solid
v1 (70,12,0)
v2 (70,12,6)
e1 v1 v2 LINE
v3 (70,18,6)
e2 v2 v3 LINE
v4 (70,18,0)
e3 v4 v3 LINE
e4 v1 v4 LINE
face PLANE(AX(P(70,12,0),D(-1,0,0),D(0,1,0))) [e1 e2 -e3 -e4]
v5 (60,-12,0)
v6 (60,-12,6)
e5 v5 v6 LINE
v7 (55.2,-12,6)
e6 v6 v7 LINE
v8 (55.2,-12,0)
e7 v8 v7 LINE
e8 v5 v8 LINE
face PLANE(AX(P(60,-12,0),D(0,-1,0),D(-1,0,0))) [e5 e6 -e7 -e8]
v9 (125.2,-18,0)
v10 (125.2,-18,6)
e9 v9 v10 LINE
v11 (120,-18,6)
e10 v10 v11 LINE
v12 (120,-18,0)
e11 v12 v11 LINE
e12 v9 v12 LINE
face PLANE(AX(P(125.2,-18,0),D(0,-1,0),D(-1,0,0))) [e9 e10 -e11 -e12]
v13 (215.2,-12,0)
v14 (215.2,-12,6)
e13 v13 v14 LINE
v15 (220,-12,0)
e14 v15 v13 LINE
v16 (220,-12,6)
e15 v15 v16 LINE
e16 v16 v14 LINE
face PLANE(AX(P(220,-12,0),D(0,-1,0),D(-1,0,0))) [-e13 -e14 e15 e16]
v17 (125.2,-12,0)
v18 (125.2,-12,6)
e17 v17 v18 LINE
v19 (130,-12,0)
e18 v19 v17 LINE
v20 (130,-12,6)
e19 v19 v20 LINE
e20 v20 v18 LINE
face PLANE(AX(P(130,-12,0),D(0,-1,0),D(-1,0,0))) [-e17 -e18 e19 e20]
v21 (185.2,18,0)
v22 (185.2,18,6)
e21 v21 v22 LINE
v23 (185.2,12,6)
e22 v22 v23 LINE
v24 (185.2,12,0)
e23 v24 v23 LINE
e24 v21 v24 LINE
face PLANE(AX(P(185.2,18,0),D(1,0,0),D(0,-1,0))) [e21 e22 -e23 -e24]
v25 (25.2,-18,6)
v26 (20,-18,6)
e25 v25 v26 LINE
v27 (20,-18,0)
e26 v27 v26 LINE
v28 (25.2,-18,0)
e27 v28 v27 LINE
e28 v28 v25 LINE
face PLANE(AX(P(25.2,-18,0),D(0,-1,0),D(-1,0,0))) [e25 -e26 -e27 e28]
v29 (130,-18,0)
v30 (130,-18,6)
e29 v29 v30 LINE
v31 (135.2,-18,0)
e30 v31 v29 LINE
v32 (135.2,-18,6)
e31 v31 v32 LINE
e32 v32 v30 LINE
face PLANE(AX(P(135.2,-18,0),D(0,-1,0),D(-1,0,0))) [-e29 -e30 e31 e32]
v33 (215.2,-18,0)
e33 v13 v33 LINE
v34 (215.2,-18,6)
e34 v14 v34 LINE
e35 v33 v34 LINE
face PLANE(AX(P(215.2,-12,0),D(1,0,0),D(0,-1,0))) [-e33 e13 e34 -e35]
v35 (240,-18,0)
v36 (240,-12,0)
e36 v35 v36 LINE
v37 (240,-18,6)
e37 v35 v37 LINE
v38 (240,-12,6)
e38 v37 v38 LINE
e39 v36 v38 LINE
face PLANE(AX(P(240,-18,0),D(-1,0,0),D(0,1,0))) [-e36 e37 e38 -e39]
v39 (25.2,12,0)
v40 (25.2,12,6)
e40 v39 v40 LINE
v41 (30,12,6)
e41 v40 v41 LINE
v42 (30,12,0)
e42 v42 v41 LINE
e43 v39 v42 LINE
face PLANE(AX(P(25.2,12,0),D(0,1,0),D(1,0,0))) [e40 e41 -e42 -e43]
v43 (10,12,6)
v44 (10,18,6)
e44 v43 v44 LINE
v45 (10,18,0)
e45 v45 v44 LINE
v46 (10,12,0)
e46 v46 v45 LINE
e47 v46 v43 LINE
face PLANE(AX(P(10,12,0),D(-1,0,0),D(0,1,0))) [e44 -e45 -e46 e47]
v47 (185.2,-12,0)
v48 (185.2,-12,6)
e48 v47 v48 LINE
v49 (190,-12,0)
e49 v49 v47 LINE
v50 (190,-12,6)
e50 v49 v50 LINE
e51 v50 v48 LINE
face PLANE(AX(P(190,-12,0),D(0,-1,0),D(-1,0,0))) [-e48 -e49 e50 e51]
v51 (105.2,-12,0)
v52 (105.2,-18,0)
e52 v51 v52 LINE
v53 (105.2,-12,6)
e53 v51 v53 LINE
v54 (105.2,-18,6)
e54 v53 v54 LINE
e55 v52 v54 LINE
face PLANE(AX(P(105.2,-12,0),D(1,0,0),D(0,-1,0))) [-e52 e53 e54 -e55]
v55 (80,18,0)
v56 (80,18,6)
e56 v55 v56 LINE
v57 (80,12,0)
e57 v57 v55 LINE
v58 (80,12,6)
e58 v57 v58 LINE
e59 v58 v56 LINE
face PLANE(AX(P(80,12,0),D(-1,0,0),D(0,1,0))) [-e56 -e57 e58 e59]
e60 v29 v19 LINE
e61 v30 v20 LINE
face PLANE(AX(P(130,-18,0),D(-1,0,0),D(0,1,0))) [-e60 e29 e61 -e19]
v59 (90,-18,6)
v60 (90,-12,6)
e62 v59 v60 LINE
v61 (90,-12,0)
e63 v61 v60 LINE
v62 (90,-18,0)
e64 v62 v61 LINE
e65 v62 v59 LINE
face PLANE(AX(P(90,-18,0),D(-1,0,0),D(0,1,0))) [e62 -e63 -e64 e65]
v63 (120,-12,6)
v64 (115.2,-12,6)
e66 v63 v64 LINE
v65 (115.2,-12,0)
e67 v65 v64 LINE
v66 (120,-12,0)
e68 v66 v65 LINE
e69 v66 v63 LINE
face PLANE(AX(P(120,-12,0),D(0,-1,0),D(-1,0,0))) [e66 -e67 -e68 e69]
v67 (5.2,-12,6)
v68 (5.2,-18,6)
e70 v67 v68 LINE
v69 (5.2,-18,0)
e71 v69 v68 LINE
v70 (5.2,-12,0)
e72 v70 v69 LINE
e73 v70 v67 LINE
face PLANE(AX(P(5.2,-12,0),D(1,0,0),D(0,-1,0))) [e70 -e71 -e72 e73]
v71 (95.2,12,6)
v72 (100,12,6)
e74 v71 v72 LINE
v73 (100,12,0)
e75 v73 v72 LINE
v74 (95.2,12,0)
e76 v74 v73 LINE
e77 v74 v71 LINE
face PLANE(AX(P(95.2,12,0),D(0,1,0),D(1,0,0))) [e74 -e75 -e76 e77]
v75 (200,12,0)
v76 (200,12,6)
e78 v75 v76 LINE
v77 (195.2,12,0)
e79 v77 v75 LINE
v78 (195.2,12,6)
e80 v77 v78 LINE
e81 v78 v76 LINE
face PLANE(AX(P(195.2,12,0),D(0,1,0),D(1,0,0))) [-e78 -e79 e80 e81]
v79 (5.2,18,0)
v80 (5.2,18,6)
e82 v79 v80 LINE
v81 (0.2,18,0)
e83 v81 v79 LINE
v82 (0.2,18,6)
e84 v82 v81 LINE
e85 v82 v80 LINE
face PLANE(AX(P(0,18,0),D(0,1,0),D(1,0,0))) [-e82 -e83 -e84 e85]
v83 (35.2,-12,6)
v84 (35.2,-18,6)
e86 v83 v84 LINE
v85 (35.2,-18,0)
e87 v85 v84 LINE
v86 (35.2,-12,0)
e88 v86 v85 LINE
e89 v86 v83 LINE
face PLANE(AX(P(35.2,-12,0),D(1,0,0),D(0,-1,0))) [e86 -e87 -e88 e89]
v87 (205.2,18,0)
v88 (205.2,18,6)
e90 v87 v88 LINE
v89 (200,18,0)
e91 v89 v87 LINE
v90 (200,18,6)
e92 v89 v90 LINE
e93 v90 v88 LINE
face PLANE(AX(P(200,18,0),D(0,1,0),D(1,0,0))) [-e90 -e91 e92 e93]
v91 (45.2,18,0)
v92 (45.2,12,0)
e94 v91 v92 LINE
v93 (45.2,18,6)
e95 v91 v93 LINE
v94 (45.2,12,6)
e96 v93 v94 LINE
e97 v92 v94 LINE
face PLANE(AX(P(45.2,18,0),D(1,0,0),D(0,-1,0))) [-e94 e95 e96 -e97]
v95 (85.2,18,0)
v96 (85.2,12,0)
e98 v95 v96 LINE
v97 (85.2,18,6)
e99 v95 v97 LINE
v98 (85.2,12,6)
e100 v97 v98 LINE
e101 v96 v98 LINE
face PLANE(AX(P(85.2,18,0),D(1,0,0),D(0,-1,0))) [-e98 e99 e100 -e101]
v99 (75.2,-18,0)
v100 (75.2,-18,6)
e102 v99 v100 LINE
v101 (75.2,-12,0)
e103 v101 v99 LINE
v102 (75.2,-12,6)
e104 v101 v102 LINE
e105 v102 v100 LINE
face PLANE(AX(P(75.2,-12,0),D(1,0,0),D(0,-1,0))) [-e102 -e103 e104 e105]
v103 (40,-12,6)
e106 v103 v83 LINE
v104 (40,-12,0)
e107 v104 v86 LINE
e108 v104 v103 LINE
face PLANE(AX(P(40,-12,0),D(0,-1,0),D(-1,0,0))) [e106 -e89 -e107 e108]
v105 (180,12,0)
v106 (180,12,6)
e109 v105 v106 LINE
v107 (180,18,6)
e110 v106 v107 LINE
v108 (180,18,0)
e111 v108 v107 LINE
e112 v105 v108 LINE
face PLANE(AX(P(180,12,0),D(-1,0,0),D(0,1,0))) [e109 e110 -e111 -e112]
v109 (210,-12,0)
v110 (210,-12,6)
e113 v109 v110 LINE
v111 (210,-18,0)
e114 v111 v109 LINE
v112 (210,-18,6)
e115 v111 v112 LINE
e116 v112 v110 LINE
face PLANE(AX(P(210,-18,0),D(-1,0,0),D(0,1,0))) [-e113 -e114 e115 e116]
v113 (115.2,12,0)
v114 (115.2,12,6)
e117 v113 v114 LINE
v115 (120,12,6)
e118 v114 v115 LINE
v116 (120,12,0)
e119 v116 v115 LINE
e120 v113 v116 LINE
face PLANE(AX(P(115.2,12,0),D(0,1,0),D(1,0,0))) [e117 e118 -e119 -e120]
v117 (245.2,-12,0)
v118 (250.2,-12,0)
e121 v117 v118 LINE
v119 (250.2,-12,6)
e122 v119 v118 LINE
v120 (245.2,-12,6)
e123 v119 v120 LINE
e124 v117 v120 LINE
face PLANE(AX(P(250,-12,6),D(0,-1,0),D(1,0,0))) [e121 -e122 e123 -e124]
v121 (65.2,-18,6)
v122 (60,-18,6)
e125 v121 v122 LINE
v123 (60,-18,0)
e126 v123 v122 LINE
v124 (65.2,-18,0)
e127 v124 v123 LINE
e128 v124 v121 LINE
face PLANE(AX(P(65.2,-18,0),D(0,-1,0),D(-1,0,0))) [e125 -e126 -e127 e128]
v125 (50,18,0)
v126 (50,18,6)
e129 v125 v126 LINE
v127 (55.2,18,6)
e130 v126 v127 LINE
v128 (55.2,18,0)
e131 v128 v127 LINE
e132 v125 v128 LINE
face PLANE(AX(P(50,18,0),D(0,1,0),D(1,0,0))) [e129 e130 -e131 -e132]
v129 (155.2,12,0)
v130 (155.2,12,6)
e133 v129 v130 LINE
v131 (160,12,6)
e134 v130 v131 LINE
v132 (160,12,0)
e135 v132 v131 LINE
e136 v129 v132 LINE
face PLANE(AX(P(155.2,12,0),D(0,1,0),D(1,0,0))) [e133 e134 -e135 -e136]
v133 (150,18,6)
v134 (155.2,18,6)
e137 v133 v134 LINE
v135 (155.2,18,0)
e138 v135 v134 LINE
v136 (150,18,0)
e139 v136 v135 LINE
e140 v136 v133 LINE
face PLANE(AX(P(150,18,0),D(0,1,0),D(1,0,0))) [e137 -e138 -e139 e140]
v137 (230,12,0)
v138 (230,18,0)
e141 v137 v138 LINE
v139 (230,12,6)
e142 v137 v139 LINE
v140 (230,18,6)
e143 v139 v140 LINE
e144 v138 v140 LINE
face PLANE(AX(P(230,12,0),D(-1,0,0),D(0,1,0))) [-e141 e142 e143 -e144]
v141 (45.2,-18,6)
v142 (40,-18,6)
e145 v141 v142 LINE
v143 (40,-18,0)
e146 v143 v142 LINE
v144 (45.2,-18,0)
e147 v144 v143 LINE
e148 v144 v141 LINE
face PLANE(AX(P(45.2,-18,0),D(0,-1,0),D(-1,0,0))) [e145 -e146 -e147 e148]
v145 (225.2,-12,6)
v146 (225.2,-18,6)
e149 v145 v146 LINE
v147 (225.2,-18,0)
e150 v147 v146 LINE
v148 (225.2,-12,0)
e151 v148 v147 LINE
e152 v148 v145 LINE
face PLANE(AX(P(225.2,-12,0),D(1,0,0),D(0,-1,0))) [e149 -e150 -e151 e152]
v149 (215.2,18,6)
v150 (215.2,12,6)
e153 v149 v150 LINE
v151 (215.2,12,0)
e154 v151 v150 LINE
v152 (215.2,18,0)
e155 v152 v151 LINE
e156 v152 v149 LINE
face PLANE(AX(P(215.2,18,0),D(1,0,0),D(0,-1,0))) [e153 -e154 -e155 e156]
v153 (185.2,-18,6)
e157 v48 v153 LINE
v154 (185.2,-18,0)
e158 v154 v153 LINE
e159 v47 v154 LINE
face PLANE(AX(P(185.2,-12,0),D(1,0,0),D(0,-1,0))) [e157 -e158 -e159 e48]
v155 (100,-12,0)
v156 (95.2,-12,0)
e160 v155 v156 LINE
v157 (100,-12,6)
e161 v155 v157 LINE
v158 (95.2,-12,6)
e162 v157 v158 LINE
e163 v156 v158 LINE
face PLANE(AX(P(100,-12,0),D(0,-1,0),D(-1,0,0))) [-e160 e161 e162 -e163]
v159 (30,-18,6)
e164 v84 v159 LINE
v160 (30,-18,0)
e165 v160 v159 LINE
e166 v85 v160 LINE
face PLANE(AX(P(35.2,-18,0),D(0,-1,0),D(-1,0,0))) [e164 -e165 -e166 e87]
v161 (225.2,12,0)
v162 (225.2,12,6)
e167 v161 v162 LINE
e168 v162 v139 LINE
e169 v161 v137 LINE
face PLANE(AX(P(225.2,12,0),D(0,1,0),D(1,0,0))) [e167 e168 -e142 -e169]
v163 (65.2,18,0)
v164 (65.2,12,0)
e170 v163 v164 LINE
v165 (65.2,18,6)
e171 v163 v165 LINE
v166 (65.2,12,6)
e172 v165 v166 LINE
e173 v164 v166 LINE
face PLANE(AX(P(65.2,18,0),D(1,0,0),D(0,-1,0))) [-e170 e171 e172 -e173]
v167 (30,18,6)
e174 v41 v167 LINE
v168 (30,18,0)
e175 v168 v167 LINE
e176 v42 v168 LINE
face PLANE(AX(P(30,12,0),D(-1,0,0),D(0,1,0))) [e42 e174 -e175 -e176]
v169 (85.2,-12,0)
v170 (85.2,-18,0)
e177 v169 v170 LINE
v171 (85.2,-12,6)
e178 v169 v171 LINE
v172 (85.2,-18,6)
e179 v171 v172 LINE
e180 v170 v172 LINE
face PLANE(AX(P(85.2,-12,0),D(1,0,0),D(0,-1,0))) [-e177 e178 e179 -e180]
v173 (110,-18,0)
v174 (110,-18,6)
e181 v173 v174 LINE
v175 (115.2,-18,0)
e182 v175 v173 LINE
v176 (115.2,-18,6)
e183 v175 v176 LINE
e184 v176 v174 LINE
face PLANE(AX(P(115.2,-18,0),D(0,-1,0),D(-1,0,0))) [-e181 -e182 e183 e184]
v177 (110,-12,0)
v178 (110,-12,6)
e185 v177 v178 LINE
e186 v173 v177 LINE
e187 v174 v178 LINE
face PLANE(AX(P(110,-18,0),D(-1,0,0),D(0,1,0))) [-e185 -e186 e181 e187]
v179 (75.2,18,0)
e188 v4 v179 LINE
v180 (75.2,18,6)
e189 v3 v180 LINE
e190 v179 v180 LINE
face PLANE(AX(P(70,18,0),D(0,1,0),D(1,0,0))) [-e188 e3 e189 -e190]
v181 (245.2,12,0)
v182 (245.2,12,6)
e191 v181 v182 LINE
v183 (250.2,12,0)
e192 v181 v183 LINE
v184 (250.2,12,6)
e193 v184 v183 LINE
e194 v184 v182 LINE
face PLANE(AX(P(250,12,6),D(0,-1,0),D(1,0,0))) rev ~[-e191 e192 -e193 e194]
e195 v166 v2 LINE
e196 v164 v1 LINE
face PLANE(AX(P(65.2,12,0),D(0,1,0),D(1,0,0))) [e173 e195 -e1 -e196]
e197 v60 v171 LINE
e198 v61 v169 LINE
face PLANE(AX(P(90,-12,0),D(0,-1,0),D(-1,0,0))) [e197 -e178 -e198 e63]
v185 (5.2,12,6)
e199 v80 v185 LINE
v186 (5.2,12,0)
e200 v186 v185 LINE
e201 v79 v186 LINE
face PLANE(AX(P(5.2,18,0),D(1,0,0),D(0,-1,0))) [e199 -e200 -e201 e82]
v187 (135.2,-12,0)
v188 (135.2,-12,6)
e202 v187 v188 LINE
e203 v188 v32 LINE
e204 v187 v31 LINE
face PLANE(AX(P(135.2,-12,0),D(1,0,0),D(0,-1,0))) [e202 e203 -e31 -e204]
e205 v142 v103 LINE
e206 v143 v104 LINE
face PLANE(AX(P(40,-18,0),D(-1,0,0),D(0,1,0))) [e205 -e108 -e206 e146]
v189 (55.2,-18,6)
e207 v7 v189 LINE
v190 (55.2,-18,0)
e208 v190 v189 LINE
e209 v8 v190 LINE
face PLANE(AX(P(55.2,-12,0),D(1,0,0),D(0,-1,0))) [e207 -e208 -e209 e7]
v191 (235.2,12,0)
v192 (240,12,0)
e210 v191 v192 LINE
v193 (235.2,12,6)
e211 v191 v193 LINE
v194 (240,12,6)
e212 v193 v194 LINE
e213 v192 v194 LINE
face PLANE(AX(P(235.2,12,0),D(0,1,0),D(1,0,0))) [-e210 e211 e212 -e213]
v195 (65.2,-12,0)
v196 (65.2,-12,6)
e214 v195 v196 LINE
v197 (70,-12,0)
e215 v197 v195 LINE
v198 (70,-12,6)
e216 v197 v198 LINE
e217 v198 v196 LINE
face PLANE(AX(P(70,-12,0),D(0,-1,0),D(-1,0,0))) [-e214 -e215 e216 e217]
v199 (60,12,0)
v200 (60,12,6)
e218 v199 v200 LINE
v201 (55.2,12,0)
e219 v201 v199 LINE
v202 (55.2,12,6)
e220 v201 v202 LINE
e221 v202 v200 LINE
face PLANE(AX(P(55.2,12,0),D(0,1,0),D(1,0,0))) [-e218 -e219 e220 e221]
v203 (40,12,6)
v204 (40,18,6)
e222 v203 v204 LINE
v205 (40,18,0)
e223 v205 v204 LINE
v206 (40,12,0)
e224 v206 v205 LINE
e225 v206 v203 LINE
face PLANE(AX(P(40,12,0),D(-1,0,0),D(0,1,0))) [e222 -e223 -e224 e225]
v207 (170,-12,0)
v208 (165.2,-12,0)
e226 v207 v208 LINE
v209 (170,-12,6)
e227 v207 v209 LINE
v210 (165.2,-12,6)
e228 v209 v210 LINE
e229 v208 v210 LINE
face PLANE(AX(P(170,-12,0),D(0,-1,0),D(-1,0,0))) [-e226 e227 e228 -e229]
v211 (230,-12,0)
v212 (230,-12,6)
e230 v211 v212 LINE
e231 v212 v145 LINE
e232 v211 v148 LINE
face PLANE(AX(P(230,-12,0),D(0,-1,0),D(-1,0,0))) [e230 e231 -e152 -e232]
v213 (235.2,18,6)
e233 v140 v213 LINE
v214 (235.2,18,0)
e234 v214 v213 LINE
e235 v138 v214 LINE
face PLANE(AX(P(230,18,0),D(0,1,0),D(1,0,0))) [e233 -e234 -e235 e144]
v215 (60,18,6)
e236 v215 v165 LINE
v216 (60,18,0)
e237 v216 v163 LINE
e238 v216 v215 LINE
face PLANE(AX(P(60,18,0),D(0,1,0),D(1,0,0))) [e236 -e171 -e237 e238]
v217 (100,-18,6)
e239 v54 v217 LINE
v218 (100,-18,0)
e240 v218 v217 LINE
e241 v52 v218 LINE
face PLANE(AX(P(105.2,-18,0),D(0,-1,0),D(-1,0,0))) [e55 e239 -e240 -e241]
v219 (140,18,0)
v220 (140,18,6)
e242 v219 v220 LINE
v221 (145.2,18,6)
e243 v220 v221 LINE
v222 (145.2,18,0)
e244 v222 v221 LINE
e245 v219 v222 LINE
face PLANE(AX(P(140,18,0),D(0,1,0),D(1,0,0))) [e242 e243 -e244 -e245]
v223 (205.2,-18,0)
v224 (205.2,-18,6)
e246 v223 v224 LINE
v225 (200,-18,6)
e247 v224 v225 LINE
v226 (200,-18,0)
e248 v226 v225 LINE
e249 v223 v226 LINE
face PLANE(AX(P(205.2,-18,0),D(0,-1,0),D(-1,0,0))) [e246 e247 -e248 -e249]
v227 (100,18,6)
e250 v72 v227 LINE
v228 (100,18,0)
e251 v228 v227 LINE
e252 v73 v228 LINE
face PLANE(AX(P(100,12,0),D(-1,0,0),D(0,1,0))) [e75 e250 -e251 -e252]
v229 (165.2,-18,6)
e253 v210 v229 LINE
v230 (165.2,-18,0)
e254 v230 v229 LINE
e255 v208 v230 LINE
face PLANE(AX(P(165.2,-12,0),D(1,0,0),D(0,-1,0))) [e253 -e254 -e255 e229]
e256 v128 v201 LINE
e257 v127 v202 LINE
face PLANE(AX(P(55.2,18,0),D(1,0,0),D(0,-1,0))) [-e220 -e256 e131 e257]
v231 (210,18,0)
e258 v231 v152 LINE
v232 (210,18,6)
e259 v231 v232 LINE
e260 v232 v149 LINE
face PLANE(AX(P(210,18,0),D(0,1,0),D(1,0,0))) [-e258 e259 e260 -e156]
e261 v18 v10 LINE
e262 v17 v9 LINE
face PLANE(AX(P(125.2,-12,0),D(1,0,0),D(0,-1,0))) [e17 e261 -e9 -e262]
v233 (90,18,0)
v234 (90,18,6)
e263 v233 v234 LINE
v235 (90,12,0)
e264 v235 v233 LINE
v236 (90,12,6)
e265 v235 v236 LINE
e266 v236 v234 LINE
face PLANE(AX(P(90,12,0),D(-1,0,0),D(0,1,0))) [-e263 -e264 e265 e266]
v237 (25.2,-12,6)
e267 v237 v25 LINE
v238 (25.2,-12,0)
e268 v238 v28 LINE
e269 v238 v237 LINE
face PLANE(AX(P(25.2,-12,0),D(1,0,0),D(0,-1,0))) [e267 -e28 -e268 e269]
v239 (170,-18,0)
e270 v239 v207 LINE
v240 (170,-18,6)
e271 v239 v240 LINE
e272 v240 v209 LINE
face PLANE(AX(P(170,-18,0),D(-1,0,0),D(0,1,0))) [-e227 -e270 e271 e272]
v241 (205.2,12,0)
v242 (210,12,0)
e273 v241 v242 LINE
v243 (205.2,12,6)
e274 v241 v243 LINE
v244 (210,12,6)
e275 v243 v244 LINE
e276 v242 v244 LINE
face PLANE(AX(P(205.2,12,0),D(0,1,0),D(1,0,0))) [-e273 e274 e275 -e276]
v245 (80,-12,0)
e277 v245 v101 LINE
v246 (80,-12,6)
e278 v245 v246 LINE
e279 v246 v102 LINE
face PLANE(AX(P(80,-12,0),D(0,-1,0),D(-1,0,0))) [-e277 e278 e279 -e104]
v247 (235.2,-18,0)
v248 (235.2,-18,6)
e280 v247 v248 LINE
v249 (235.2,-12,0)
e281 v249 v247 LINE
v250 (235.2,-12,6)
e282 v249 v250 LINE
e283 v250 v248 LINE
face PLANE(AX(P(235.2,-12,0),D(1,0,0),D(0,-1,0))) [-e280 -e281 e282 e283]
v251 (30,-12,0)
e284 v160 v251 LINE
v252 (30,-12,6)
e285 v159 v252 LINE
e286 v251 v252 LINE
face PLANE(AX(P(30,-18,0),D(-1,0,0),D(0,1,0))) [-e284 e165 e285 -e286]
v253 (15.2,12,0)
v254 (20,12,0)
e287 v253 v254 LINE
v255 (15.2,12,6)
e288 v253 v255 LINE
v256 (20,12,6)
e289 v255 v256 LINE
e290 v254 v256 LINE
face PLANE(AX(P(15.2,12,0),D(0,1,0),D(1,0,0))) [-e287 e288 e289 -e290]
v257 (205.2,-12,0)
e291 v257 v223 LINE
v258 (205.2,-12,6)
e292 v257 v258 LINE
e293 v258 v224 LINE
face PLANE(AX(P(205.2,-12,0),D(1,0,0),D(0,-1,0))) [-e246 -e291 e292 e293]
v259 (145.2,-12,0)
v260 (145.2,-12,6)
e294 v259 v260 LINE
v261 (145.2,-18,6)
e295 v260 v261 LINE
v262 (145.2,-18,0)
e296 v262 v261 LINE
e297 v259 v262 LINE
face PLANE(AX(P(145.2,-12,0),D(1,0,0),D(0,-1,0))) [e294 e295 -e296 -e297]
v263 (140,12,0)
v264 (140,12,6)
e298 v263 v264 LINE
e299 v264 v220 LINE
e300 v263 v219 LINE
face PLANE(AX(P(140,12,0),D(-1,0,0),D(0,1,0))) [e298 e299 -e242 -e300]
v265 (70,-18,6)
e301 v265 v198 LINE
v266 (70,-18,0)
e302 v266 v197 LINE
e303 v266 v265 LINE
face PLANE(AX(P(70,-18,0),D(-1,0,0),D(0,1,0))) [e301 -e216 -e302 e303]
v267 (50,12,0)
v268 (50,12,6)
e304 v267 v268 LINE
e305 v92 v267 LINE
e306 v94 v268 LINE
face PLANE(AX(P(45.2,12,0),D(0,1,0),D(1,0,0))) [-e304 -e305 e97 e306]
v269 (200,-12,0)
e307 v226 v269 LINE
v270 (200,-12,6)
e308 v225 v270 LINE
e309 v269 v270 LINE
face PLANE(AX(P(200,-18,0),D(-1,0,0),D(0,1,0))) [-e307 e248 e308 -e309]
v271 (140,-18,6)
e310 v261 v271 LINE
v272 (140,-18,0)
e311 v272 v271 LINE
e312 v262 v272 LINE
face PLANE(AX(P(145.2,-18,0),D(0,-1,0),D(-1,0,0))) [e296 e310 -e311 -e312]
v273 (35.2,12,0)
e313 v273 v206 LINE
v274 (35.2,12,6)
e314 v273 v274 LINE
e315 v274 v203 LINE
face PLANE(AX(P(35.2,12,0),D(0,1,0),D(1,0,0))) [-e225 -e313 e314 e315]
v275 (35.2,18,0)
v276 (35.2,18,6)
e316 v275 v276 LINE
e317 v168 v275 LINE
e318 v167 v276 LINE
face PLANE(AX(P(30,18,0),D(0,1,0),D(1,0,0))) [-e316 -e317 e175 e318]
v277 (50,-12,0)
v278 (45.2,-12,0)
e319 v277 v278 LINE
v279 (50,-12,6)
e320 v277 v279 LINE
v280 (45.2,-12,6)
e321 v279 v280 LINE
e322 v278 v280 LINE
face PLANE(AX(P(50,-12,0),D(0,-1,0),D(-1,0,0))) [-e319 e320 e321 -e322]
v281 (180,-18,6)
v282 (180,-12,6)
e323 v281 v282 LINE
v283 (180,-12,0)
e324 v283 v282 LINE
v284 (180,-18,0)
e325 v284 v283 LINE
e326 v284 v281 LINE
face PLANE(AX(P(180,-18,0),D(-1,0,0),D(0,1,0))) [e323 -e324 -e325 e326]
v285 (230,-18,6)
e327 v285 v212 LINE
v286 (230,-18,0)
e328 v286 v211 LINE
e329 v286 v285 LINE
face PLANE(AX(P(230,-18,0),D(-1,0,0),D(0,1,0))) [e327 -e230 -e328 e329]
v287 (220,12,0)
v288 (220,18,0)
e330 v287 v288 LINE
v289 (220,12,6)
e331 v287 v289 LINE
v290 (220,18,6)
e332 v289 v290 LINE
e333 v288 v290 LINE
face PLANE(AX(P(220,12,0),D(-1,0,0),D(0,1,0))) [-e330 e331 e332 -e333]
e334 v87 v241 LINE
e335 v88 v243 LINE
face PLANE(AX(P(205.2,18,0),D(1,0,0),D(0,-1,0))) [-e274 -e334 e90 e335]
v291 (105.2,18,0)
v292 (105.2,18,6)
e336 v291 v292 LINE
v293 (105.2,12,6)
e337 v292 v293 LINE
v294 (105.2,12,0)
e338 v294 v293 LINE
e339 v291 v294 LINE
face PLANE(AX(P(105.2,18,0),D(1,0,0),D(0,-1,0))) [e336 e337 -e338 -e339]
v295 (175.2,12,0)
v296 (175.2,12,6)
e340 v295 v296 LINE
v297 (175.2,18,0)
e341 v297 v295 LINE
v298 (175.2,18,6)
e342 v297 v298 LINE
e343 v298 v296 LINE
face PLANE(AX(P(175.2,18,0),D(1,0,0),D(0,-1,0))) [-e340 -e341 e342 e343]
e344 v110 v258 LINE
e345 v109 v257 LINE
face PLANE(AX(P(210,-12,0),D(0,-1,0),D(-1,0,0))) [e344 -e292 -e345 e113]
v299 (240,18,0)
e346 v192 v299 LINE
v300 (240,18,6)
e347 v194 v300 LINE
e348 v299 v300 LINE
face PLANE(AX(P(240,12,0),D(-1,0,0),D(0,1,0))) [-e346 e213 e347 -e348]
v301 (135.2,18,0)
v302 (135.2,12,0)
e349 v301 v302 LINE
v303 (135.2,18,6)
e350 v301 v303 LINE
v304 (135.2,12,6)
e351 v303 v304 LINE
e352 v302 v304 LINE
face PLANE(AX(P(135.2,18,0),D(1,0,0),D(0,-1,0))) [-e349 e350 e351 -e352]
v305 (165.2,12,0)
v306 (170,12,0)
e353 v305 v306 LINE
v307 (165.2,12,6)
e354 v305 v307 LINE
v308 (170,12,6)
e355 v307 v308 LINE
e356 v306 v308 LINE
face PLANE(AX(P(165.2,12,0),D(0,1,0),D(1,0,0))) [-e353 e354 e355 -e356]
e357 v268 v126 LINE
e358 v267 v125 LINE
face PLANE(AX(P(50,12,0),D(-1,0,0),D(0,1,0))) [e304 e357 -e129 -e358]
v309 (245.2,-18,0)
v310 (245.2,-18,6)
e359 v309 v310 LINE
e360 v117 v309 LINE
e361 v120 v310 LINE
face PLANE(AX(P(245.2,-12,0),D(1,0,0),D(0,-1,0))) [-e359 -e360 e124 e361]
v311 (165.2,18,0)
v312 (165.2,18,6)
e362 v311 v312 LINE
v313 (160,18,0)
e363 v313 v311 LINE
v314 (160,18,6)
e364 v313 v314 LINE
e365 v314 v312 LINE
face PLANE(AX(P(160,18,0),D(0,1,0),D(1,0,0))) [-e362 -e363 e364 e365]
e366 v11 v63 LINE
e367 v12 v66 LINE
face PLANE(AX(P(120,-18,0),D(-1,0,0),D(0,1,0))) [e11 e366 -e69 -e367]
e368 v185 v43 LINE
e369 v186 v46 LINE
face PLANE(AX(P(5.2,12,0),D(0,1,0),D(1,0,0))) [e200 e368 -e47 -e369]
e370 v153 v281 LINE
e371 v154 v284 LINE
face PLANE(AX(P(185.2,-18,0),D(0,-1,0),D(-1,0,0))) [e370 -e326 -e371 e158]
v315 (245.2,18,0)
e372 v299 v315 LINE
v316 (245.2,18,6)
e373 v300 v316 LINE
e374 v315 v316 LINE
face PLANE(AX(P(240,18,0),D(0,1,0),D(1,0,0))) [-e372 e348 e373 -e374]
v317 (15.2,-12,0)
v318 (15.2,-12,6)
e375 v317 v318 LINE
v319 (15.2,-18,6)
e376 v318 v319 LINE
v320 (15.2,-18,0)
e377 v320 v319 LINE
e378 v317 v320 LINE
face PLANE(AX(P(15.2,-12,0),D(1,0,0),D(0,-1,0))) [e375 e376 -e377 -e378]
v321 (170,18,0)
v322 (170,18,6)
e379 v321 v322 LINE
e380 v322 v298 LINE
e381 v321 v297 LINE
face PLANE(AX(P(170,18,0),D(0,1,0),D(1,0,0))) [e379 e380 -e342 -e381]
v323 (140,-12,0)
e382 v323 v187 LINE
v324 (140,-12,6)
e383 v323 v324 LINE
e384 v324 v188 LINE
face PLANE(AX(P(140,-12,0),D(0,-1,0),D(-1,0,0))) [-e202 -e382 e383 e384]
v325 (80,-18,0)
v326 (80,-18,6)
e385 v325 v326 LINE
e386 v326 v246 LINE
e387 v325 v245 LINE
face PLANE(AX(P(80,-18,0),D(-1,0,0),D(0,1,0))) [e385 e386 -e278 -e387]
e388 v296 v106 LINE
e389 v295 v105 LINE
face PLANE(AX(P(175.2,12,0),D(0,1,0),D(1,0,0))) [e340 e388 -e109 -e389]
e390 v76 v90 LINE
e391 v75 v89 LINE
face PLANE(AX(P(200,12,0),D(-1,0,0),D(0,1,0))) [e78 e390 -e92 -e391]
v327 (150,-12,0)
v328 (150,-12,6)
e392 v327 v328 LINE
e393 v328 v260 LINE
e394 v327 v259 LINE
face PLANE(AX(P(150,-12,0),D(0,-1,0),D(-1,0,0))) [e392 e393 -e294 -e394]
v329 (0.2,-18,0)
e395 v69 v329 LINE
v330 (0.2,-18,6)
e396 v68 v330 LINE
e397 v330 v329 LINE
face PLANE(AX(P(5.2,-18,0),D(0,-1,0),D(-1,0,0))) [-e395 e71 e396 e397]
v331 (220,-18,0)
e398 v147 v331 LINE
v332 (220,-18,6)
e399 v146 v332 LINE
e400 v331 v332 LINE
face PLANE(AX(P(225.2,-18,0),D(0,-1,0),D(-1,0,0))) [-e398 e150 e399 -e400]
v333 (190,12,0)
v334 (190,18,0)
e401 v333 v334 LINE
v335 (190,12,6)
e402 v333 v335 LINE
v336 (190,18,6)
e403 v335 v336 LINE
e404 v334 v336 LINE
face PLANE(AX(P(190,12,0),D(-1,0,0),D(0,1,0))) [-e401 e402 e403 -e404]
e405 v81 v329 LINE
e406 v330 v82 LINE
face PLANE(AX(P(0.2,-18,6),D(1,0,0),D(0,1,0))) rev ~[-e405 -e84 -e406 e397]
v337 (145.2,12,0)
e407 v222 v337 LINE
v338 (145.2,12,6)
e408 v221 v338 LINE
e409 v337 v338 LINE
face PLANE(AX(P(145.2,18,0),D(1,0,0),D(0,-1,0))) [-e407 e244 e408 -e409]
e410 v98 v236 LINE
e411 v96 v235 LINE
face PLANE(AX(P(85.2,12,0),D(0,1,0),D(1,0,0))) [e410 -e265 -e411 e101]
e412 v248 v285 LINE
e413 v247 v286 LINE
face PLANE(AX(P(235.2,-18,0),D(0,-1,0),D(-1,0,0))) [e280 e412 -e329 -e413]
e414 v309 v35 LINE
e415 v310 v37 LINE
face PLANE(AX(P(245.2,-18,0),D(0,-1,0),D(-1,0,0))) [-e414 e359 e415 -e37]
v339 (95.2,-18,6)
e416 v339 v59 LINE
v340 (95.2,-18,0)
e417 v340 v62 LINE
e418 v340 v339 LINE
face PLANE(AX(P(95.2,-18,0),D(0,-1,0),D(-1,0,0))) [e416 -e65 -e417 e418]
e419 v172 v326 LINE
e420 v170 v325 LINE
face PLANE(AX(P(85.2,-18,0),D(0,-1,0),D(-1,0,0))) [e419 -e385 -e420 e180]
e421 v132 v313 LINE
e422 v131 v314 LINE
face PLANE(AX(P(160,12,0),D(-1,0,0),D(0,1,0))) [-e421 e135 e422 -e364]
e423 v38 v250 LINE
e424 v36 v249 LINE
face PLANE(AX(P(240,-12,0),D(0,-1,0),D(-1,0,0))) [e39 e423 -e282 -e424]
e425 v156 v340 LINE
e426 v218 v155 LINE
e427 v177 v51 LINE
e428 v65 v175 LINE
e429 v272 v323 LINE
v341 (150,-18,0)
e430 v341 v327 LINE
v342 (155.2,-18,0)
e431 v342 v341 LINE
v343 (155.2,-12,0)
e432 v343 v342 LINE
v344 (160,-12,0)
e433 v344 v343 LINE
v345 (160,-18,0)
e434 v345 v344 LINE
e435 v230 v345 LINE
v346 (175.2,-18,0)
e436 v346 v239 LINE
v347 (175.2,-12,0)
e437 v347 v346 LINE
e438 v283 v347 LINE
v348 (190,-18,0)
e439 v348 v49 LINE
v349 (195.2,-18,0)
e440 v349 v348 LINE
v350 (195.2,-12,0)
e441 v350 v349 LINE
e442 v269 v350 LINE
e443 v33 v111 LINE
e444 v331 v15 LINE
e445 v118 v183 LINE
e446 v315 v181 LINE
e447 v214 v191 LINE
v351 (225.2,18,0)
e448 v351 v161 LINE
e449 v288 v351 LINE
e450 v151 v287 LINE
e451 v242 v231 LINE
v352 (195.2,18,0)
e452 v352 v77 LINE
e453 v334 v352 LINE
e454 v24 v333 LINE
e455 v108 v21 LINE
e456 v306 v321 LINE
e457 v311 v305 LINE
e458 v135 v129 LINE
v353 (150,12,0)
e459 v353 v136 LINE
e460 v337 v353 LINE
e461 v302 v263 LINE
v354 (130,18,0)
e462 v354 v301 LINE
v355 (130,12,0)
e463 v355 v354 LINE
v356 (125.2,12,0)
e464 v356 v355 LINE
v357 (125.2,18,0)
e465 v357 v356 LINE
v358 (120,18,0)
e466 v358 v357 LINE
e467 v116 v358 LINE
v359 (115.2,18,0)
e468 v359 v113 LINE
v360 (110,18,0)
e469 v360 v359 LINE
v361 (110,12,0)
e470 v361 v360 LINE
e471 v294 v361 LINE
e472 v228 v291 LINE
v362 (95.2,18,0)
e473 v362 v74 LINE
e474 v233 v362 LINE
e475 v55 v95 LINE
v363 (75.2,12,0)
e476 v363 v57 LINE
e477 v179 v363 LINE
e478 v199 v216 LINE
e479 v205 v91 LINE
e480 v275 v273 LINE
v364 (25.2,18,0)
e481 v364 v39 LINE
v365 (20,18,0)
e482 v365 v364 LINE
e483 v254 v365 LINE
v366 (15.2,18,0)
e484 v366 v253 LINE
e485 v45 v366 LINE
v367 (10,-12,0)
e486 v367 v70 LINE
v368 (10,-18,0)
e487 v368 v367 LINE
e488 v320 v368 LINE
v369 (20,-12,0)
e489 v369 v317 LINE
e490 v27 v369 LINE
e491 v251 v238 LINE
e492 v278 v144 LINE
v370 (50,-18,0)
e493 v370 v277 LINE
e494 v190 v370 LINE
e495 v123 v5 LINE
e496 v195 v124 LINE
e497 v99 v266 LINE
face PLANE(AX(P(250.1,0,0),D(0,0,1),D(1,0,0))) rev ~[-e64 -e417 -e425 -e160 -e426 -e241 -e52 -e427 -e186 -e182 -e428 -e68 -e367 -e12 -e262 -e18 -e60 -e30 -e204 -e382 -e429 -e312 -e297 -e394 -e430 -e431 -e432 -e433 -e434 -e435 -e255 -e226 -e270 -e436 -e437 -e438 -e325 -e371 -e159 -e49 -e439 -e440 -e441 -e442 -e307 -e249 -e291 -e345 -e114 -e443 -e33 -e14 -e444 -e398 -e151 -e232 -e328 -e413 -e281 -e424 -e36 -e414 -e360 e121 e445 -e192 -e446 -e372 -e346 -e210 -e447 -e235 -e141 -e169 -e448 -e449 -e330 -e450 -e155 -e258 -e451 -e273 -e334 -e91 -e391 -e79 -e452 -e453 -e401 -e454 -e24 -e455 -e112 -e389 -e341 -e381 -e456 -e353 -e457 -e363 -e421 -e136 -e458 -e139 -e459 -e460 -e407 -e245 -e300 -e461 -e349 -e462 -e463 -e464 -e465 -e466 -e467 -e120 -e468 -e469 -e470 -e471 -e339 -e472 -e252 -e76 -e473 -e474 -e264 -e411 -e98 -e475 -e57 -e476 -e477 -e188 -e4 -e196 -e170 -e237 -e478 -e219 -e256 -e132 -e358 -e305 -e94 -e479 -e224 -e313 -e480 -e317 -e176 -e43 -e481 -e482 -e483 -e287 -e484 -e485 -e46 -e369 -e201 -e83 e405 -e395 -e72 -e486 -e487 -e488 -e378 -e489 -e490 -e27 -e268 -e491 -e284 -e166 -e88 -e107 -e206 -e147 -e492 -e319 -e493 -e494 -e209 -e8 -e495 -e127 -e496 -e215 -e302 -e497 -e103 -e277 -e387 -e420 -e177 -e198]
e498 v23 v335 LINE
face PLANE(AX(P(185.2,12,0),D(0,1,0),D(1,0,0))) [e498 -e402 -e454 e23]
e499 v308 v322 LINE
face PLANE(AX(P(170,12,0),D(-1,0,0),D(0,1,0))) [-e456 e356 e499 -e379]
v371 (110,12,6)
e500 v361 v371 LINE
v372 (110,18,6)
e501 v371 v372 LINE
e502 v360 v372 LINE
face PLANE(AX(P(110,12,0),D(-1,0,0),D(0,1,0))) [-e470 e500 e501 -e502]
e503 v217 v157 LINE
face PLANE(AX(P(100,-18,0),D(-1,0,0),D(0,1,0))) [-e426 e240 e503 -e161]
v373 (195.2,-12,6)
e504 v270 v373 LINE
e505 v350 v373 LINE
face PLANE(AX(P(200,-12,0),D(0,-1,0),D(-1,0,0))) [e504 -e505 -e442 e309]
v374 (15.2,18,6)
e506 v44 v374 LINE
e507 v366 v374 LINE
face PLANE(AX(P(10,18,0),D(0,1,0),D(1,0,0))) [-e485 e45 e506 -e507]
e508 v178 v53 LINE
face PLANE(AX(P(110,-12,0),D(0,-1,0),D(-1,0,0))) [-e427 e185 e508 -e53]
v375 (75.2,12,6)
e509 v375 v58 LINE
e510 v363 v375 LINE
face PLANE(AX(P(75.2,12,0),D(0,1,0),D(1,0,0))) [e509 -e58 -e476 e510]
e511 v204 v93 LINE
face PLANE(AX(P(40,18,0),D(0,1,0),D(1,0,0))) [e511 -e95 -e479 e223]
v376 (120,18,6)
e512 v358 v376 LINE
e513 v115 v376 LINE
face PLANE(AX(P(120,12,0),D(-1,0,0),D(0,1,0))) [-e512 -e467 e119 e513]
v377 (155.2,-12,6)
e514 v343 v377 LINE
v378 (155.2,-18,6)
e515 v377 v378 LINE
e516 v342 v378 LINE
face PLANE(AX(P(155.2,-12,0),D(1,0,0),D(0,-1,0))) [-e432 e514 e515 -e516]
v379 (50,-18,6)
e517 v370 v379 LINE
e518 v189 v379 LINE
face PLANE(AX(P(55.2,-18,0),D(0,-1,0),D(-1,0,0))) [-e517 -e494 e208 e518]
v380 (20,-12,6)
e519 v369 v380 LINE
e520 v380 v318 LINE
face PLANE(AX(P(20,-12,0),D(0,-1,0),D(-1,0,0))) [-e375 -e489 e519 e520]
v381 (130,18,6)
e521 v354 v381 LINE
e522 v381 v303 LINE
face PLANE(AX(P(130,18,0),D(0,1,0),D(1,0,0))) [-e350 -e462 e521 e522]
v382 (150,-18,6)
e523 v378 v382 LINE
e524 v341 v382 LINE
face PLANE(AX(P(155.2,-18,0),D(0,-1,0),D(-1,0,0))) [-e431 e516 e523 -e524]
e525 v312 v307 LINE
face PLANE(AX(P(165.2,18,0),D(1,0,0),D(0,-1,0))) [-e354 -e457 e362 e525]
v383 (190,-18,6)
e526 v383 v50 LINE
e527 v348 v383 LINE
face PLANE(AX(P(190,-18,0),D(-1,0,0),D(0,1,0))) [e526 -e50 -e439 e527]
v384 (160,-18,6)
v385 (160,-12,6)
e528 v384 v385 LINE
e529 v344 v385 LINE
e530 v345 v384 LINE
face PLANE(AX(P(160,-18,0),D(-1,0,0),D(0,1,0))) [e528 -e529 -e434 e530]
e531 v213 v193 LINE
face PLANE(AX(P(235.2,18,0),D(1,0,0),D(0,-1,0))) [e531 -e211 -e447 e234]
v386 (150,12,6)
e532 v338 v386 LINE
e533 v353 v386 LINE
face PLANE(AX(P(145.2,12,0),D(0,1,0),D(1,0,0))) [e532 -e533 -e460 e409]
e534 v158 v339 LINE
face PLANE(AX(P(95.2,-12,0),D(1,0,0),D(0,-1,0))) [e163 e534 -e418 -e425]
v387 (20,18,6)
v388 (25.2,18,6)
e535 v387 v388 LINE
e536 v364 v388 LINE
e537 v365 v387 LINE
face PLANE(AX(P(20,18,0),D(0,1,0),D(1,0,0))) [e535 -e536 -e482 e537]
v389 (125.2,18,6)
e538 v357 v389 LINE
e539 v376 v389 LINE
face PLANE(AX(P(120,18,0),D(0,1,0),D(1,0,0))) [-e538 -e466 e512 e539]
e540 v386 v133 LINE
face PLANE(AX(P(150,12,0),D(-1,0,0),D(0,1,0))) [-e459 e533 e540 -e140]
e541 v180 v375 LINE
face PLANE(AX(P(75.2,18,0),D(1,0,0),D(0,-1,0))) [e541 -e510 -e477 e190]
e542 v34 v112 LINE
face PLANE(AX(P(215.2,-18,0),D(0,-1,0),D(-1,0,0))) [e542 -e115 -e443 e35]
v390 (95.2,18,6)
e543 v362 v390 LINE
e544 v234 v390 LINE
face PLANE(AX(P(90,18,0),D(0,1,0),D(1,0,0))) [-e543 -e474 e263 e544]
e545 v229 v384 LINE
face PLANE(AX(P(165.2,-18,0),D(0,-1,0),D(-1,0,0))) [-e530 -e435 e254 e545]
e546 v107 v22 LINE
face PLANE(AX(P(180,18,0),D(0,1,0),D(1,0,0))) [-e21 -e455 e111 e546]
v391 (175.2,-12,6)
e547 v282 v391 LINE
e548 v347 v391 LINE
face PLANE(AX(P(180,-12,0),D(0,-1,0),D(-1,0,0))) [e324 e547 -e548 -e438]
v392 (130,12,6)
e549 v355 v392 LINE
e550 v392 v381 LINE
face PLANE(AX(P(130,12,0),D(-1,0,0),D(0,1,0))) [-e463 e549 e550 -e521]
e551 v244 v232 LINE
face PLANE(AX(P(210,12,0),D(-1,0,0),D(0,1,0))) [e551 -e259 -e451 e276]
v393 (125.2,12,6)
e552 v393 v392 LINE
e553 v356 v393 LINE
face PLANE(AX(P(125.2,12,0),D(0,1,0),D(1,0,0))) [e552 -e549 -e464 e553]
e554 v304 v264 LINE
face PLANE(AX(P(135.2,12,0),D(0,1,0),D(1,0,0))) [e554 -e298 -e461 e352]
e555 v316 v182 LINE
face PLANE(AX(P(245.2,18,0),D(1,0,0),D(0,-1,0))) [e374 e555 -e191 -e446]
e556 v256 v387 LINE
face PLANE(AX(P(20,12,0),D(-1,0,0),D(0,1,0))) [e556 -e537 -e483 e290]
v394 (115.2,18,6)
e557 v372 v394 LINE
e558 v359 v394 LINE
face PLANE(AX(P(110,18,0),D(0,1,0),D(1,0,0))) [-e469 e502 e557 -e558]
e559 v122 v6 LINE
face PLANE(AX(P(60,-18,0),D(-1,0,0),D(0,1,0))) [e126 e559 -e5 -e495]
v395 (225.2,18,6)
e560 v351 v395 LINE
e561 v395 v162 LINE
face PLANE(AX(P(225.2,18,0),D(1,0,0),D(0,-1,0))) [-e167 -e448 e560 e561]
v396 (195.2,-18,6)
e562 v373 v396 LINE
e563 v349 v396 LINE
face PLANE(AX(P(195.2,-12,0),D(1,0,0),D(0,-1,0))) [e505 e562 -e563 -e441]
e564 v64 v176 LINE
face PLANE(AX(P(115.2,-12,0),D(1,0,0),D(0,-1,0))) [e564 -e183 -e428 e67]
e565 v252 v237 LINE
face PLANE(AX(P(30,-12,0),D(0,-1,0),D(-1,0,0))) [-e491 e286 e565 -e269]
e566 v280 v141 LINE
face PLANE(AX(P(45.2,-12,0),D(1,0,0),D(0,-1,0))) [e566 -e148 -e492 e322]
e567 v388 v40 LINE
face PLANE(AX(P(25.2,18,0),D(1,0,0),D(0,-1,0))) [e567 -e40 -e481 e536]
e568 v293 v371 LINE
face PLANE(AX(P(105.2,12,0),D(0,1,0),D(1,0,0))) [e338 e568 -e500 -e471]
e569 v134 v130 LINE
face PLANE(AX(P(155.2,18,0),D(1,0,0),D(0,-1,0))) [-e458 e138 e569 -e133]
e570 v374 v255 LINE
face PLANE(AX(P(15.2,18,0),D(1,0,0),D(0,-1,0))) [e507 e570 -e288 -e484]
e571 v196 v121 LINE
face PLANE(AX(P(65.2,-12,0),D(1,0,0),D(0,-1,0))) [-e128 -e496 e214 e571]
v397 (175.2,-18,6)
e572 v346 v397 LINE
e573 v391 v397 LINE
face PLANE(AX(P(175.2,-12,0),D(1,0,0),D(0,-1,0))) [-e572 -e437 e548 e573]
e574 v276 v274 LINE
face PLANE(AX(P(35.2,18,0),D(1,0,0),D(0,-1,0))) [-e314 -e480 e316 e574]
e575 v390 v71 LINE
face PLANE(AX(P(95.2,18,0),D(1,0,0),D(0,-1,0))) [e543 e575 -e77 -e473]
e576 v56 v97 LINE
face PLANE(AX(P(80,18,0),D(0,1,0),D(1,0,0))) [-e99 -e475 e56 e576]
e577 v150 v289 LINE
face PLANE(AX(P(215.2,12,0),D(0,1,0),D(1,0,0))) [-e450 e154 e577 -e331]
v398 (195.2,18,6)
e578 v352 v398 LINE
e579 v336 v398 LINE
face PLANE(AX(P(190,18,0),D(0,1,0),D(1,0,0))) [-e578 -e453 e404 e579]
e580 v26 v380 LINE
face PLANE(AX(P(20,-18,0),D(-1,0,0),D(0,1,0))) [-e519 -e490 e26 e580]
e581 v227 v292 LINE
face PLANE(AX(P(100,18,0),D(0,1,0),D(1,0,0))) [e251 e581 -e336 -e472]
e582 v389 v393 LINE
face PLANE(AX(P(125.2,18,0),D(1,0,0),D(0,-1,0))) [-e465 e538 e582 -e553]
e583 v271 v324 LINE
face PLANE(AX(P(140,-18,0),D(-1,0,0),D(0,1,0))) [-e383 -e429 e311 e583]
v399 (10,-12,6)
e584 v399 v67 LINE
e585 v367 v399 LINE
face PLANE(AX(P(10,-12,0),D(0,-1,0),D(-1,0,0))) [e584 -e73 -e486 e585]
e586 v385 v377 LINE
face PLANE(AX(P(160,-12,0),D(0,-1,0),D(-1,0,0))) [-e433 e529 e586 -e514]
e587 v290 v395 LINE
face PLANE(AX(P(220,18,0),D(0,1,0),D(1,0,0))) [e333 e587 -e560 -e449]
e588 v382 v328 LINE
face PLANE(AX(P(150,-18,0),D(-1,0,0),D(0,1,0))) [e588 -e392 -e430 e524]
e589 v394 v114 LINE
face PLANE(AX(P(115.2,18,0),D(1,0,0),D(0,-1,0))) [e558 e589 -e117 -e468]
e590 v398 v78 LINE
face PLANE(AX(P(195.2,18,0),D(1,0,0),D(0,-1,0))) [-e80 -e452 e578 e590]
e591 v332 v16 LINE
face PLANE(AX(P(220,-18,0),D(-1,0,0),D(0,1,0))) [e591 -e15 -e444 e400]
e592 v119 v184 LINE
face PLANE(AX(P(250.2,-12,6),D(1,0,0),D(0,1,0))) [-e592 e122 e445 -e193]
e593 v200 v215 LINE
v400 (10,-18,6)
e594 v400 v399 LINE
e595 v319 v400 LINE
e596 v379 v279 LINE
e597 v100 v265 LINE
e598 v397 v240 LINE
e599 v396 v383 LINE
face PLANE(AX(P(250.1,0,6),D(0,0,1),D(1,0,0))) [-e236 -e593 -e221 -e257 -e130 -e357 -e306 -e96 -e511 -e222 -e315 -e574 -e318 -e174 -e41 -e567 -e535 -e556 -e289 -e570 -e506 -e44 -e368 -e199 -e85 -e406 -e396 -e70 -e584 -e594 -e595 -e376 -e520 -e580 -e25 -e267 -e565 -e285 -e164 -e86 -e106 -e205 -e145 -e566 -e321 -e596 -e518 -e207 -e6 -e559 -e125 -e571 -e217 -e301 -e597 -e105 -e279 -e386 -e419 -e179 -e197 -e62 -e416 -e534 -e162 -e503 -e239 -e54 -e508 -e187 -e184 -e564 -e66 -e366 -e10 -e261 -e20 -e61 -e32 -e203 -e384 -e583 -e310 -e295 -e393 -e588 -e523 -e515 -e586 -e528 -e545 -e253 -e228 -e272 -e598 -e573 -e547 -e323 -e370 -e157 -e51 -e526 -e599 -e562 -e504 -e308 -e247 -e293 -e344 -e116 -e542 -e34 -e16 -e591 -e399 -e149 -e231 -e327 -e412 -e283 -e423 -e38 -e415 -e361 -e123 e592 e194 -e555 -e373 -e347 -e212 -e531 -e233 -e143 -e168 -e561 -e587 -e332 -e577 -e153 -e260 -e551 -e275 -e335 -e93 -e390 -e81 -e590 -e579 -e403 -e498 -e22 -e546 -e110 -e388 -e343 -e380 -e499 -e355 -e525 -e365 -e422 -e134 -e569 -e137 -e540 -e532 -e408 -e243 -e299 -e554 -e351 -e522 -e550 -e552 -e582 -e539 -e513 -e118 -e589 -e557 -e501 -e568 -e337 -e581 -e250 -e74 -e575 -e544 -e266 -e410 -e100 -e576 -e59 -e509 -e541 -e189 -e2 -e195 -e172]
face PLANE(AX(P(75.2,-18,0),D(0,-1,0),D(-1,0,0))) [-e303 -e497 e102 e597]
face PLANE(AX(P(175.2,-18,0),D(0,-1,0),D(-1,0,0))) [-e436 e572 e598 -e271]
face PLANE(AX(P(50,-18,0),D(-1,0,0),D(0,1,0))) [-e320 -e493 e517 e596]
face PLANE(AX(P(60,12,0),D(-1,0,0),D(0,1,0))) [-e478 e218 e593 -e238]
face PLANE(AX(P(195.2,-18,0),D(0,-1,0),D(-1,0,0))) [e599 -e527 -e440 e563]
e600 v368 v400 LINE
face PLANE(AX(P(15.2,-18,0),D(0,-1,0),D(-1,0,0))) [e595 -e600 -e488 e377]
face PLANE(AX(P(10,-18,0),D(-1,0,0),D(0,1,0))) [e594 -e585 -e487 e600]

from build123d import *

# Parameters (mm, degrees)
BOSS_EXTRU_1_DEPTH      = 6
ESQUISSE2_W             = 0.2
ESQUISSE2_H             = 36
ENL_V_MAT_EXTRU_1_DEPTH = 10
ESQUISSE3_W             = 0.2
ESQUISSE3_H             = 24
BOSS_EXTRU_2_DEPTH      = 6


with BuildPart() as part:
    # Esquisse1 → Boss.-Extru.1 (new body)
    with BuildSketch(Plane.XY):
        Polygon((0, -18), (0, 18), (5.2, 18), (5.2, 12), (10, 12), (10, 18), (15.2, 18), (15.2, 12), (20, 12), (20, 18), (25.2, 18), (25.2, 12), (30, 12), (30, 18), (35.2, 18), (35.2, 12), (40, 12), (40, 18), (45.2, 18), (45.2, 12), (50, 12), (50, 18), (55.2, 18), (55.2, 12), (60, 12), (60, 18), (65.2, 18), (65.2, 12), (70, 12), (70, 18), (75.2, 18), (75.2, 12), (80, 12), (80, 18), (85.2, 18), (85.2, 12), (90, 12), (90, 18), (95.2, 18), (95.2, 12), (100, 12), (100, 18), (105.2, 18), (105.2, 12), (110, 12), (110, 18), (115.2, 18), (115.2, 12), (120, 12), (120, 18), (125.2, 18), (125.2, 12), (130, 12), (130, 18), (135.2, 18), (135.2, 12), (140, 12), (140, 18), (145.2, 18), (145.2, 12), (150, 12), (150, 18), (155.2, 18), (155.2, 12), (160, 12), (160, 18), (165.2, 18), (165.2, 12), (170, 12), (170, 18), (175.2, 18), (175.2, 12), (180, 12), (180, 18), (185.2, 18), (185.2, 12), (190, 12), (190, 18), (195.2, 18), (195.2, 12), (200, 12), (200, 18), (205.2, 18), (205.2, 12), (210, 12), (210, 18), (215.2, 18), (215.2, 12), (220, 12), (220, 18), (225.2, 18), (225.2, 12), (230, 12), (230, 18), (235.2, 18), (235.2, 12), (240, 12), (240, 18), (245.2, 18), (245.2, 12), (250, 12), (250, -12), (245.2, -12), (245.2, -18), (240, -18), (240, -12), (235.2, -12), (235.2, -18), (230, -18), (230, -12), (225.2, -12), (225.2, -18), (220, -18), (220, -12), (215.2, -12), (215.2, -18), (210, -18), (210, -12), (205.2, -12), (205.2, -18), (200, -18), (200, -12), (195.2, -12), (195.2, -18), (190, -18), (190, -12), (185.2, -12), (185.2, -18), (180, -18), (180, -12), (175.2, -12), (175.2, -18), (170, -18), (170, -12), (165.2, -12), (165.2, -18), (160, -18), (160, -12), (155.2, -12), (155.2, -18), (150, -18), (150, -12), (145.2, -12), (145.2, -18), (140, -18), (140, -12), (135.2, -12), (135.2, -18), (130, -18), (130, -12), (125.2, -12), (125.2, -18), (120, -18), (120, -12), (115.2, -12), (115.2, -18), (110, -18), (110, -12), (105.2, -12), (105.2, -18), (100, -18), (100, -12), (95.2, -12), (95.2, -18), (90, -18), (90, -12), (85.2, -12), (85.2, -18), (80, -18), (80, -12), (75.2, -12), (75.2, -18), (70, -18), (70, -12), (65.2, -12), (65.2, -18), (60, -18), (60, -12), (55.2, -12), (55.2, -18), (50, -18), (50, -12), (45.2, -12), (45.2, -18), (40, -18), (40, -12), (35.2, -12), (35.2, -18), (30, -18), (30, -12), (25.2, -12), (25.2, -18), (20, -18), (20, -12), (15.2, -12), (15.2, -18), (10, -18), (10, -12), (5.2, -12), (5.2, -18), align=None)
    extrude(amount=BOSS_EXTRU_1_DEPTH)

    # Esquisse2 → Enlèv. mat.-Extru.1 (cut)
    with BuildSketch(Plane.XY.offset(6)):
        with Locations((0.1, 0)):
            Rectangle(ESQUISSE2_W, ESQUISSE2_H)
    extrude(amount=-ENL_V_MAT_EXTRU_1_DEPTH, mode=Mode.SUBTRACT)

    # Esquisse3 → Boss.-Extru.2 (add)
    with BuildSketch(Plane.XY.offset(6)):
        with Locations((250.1, 0)):
            Rectangle(ESQUISSE3_W, ESQUISSE3_H)
    extrude(amount=-BOSS_EXTRU_2_DEPTH)


solid = part.part
